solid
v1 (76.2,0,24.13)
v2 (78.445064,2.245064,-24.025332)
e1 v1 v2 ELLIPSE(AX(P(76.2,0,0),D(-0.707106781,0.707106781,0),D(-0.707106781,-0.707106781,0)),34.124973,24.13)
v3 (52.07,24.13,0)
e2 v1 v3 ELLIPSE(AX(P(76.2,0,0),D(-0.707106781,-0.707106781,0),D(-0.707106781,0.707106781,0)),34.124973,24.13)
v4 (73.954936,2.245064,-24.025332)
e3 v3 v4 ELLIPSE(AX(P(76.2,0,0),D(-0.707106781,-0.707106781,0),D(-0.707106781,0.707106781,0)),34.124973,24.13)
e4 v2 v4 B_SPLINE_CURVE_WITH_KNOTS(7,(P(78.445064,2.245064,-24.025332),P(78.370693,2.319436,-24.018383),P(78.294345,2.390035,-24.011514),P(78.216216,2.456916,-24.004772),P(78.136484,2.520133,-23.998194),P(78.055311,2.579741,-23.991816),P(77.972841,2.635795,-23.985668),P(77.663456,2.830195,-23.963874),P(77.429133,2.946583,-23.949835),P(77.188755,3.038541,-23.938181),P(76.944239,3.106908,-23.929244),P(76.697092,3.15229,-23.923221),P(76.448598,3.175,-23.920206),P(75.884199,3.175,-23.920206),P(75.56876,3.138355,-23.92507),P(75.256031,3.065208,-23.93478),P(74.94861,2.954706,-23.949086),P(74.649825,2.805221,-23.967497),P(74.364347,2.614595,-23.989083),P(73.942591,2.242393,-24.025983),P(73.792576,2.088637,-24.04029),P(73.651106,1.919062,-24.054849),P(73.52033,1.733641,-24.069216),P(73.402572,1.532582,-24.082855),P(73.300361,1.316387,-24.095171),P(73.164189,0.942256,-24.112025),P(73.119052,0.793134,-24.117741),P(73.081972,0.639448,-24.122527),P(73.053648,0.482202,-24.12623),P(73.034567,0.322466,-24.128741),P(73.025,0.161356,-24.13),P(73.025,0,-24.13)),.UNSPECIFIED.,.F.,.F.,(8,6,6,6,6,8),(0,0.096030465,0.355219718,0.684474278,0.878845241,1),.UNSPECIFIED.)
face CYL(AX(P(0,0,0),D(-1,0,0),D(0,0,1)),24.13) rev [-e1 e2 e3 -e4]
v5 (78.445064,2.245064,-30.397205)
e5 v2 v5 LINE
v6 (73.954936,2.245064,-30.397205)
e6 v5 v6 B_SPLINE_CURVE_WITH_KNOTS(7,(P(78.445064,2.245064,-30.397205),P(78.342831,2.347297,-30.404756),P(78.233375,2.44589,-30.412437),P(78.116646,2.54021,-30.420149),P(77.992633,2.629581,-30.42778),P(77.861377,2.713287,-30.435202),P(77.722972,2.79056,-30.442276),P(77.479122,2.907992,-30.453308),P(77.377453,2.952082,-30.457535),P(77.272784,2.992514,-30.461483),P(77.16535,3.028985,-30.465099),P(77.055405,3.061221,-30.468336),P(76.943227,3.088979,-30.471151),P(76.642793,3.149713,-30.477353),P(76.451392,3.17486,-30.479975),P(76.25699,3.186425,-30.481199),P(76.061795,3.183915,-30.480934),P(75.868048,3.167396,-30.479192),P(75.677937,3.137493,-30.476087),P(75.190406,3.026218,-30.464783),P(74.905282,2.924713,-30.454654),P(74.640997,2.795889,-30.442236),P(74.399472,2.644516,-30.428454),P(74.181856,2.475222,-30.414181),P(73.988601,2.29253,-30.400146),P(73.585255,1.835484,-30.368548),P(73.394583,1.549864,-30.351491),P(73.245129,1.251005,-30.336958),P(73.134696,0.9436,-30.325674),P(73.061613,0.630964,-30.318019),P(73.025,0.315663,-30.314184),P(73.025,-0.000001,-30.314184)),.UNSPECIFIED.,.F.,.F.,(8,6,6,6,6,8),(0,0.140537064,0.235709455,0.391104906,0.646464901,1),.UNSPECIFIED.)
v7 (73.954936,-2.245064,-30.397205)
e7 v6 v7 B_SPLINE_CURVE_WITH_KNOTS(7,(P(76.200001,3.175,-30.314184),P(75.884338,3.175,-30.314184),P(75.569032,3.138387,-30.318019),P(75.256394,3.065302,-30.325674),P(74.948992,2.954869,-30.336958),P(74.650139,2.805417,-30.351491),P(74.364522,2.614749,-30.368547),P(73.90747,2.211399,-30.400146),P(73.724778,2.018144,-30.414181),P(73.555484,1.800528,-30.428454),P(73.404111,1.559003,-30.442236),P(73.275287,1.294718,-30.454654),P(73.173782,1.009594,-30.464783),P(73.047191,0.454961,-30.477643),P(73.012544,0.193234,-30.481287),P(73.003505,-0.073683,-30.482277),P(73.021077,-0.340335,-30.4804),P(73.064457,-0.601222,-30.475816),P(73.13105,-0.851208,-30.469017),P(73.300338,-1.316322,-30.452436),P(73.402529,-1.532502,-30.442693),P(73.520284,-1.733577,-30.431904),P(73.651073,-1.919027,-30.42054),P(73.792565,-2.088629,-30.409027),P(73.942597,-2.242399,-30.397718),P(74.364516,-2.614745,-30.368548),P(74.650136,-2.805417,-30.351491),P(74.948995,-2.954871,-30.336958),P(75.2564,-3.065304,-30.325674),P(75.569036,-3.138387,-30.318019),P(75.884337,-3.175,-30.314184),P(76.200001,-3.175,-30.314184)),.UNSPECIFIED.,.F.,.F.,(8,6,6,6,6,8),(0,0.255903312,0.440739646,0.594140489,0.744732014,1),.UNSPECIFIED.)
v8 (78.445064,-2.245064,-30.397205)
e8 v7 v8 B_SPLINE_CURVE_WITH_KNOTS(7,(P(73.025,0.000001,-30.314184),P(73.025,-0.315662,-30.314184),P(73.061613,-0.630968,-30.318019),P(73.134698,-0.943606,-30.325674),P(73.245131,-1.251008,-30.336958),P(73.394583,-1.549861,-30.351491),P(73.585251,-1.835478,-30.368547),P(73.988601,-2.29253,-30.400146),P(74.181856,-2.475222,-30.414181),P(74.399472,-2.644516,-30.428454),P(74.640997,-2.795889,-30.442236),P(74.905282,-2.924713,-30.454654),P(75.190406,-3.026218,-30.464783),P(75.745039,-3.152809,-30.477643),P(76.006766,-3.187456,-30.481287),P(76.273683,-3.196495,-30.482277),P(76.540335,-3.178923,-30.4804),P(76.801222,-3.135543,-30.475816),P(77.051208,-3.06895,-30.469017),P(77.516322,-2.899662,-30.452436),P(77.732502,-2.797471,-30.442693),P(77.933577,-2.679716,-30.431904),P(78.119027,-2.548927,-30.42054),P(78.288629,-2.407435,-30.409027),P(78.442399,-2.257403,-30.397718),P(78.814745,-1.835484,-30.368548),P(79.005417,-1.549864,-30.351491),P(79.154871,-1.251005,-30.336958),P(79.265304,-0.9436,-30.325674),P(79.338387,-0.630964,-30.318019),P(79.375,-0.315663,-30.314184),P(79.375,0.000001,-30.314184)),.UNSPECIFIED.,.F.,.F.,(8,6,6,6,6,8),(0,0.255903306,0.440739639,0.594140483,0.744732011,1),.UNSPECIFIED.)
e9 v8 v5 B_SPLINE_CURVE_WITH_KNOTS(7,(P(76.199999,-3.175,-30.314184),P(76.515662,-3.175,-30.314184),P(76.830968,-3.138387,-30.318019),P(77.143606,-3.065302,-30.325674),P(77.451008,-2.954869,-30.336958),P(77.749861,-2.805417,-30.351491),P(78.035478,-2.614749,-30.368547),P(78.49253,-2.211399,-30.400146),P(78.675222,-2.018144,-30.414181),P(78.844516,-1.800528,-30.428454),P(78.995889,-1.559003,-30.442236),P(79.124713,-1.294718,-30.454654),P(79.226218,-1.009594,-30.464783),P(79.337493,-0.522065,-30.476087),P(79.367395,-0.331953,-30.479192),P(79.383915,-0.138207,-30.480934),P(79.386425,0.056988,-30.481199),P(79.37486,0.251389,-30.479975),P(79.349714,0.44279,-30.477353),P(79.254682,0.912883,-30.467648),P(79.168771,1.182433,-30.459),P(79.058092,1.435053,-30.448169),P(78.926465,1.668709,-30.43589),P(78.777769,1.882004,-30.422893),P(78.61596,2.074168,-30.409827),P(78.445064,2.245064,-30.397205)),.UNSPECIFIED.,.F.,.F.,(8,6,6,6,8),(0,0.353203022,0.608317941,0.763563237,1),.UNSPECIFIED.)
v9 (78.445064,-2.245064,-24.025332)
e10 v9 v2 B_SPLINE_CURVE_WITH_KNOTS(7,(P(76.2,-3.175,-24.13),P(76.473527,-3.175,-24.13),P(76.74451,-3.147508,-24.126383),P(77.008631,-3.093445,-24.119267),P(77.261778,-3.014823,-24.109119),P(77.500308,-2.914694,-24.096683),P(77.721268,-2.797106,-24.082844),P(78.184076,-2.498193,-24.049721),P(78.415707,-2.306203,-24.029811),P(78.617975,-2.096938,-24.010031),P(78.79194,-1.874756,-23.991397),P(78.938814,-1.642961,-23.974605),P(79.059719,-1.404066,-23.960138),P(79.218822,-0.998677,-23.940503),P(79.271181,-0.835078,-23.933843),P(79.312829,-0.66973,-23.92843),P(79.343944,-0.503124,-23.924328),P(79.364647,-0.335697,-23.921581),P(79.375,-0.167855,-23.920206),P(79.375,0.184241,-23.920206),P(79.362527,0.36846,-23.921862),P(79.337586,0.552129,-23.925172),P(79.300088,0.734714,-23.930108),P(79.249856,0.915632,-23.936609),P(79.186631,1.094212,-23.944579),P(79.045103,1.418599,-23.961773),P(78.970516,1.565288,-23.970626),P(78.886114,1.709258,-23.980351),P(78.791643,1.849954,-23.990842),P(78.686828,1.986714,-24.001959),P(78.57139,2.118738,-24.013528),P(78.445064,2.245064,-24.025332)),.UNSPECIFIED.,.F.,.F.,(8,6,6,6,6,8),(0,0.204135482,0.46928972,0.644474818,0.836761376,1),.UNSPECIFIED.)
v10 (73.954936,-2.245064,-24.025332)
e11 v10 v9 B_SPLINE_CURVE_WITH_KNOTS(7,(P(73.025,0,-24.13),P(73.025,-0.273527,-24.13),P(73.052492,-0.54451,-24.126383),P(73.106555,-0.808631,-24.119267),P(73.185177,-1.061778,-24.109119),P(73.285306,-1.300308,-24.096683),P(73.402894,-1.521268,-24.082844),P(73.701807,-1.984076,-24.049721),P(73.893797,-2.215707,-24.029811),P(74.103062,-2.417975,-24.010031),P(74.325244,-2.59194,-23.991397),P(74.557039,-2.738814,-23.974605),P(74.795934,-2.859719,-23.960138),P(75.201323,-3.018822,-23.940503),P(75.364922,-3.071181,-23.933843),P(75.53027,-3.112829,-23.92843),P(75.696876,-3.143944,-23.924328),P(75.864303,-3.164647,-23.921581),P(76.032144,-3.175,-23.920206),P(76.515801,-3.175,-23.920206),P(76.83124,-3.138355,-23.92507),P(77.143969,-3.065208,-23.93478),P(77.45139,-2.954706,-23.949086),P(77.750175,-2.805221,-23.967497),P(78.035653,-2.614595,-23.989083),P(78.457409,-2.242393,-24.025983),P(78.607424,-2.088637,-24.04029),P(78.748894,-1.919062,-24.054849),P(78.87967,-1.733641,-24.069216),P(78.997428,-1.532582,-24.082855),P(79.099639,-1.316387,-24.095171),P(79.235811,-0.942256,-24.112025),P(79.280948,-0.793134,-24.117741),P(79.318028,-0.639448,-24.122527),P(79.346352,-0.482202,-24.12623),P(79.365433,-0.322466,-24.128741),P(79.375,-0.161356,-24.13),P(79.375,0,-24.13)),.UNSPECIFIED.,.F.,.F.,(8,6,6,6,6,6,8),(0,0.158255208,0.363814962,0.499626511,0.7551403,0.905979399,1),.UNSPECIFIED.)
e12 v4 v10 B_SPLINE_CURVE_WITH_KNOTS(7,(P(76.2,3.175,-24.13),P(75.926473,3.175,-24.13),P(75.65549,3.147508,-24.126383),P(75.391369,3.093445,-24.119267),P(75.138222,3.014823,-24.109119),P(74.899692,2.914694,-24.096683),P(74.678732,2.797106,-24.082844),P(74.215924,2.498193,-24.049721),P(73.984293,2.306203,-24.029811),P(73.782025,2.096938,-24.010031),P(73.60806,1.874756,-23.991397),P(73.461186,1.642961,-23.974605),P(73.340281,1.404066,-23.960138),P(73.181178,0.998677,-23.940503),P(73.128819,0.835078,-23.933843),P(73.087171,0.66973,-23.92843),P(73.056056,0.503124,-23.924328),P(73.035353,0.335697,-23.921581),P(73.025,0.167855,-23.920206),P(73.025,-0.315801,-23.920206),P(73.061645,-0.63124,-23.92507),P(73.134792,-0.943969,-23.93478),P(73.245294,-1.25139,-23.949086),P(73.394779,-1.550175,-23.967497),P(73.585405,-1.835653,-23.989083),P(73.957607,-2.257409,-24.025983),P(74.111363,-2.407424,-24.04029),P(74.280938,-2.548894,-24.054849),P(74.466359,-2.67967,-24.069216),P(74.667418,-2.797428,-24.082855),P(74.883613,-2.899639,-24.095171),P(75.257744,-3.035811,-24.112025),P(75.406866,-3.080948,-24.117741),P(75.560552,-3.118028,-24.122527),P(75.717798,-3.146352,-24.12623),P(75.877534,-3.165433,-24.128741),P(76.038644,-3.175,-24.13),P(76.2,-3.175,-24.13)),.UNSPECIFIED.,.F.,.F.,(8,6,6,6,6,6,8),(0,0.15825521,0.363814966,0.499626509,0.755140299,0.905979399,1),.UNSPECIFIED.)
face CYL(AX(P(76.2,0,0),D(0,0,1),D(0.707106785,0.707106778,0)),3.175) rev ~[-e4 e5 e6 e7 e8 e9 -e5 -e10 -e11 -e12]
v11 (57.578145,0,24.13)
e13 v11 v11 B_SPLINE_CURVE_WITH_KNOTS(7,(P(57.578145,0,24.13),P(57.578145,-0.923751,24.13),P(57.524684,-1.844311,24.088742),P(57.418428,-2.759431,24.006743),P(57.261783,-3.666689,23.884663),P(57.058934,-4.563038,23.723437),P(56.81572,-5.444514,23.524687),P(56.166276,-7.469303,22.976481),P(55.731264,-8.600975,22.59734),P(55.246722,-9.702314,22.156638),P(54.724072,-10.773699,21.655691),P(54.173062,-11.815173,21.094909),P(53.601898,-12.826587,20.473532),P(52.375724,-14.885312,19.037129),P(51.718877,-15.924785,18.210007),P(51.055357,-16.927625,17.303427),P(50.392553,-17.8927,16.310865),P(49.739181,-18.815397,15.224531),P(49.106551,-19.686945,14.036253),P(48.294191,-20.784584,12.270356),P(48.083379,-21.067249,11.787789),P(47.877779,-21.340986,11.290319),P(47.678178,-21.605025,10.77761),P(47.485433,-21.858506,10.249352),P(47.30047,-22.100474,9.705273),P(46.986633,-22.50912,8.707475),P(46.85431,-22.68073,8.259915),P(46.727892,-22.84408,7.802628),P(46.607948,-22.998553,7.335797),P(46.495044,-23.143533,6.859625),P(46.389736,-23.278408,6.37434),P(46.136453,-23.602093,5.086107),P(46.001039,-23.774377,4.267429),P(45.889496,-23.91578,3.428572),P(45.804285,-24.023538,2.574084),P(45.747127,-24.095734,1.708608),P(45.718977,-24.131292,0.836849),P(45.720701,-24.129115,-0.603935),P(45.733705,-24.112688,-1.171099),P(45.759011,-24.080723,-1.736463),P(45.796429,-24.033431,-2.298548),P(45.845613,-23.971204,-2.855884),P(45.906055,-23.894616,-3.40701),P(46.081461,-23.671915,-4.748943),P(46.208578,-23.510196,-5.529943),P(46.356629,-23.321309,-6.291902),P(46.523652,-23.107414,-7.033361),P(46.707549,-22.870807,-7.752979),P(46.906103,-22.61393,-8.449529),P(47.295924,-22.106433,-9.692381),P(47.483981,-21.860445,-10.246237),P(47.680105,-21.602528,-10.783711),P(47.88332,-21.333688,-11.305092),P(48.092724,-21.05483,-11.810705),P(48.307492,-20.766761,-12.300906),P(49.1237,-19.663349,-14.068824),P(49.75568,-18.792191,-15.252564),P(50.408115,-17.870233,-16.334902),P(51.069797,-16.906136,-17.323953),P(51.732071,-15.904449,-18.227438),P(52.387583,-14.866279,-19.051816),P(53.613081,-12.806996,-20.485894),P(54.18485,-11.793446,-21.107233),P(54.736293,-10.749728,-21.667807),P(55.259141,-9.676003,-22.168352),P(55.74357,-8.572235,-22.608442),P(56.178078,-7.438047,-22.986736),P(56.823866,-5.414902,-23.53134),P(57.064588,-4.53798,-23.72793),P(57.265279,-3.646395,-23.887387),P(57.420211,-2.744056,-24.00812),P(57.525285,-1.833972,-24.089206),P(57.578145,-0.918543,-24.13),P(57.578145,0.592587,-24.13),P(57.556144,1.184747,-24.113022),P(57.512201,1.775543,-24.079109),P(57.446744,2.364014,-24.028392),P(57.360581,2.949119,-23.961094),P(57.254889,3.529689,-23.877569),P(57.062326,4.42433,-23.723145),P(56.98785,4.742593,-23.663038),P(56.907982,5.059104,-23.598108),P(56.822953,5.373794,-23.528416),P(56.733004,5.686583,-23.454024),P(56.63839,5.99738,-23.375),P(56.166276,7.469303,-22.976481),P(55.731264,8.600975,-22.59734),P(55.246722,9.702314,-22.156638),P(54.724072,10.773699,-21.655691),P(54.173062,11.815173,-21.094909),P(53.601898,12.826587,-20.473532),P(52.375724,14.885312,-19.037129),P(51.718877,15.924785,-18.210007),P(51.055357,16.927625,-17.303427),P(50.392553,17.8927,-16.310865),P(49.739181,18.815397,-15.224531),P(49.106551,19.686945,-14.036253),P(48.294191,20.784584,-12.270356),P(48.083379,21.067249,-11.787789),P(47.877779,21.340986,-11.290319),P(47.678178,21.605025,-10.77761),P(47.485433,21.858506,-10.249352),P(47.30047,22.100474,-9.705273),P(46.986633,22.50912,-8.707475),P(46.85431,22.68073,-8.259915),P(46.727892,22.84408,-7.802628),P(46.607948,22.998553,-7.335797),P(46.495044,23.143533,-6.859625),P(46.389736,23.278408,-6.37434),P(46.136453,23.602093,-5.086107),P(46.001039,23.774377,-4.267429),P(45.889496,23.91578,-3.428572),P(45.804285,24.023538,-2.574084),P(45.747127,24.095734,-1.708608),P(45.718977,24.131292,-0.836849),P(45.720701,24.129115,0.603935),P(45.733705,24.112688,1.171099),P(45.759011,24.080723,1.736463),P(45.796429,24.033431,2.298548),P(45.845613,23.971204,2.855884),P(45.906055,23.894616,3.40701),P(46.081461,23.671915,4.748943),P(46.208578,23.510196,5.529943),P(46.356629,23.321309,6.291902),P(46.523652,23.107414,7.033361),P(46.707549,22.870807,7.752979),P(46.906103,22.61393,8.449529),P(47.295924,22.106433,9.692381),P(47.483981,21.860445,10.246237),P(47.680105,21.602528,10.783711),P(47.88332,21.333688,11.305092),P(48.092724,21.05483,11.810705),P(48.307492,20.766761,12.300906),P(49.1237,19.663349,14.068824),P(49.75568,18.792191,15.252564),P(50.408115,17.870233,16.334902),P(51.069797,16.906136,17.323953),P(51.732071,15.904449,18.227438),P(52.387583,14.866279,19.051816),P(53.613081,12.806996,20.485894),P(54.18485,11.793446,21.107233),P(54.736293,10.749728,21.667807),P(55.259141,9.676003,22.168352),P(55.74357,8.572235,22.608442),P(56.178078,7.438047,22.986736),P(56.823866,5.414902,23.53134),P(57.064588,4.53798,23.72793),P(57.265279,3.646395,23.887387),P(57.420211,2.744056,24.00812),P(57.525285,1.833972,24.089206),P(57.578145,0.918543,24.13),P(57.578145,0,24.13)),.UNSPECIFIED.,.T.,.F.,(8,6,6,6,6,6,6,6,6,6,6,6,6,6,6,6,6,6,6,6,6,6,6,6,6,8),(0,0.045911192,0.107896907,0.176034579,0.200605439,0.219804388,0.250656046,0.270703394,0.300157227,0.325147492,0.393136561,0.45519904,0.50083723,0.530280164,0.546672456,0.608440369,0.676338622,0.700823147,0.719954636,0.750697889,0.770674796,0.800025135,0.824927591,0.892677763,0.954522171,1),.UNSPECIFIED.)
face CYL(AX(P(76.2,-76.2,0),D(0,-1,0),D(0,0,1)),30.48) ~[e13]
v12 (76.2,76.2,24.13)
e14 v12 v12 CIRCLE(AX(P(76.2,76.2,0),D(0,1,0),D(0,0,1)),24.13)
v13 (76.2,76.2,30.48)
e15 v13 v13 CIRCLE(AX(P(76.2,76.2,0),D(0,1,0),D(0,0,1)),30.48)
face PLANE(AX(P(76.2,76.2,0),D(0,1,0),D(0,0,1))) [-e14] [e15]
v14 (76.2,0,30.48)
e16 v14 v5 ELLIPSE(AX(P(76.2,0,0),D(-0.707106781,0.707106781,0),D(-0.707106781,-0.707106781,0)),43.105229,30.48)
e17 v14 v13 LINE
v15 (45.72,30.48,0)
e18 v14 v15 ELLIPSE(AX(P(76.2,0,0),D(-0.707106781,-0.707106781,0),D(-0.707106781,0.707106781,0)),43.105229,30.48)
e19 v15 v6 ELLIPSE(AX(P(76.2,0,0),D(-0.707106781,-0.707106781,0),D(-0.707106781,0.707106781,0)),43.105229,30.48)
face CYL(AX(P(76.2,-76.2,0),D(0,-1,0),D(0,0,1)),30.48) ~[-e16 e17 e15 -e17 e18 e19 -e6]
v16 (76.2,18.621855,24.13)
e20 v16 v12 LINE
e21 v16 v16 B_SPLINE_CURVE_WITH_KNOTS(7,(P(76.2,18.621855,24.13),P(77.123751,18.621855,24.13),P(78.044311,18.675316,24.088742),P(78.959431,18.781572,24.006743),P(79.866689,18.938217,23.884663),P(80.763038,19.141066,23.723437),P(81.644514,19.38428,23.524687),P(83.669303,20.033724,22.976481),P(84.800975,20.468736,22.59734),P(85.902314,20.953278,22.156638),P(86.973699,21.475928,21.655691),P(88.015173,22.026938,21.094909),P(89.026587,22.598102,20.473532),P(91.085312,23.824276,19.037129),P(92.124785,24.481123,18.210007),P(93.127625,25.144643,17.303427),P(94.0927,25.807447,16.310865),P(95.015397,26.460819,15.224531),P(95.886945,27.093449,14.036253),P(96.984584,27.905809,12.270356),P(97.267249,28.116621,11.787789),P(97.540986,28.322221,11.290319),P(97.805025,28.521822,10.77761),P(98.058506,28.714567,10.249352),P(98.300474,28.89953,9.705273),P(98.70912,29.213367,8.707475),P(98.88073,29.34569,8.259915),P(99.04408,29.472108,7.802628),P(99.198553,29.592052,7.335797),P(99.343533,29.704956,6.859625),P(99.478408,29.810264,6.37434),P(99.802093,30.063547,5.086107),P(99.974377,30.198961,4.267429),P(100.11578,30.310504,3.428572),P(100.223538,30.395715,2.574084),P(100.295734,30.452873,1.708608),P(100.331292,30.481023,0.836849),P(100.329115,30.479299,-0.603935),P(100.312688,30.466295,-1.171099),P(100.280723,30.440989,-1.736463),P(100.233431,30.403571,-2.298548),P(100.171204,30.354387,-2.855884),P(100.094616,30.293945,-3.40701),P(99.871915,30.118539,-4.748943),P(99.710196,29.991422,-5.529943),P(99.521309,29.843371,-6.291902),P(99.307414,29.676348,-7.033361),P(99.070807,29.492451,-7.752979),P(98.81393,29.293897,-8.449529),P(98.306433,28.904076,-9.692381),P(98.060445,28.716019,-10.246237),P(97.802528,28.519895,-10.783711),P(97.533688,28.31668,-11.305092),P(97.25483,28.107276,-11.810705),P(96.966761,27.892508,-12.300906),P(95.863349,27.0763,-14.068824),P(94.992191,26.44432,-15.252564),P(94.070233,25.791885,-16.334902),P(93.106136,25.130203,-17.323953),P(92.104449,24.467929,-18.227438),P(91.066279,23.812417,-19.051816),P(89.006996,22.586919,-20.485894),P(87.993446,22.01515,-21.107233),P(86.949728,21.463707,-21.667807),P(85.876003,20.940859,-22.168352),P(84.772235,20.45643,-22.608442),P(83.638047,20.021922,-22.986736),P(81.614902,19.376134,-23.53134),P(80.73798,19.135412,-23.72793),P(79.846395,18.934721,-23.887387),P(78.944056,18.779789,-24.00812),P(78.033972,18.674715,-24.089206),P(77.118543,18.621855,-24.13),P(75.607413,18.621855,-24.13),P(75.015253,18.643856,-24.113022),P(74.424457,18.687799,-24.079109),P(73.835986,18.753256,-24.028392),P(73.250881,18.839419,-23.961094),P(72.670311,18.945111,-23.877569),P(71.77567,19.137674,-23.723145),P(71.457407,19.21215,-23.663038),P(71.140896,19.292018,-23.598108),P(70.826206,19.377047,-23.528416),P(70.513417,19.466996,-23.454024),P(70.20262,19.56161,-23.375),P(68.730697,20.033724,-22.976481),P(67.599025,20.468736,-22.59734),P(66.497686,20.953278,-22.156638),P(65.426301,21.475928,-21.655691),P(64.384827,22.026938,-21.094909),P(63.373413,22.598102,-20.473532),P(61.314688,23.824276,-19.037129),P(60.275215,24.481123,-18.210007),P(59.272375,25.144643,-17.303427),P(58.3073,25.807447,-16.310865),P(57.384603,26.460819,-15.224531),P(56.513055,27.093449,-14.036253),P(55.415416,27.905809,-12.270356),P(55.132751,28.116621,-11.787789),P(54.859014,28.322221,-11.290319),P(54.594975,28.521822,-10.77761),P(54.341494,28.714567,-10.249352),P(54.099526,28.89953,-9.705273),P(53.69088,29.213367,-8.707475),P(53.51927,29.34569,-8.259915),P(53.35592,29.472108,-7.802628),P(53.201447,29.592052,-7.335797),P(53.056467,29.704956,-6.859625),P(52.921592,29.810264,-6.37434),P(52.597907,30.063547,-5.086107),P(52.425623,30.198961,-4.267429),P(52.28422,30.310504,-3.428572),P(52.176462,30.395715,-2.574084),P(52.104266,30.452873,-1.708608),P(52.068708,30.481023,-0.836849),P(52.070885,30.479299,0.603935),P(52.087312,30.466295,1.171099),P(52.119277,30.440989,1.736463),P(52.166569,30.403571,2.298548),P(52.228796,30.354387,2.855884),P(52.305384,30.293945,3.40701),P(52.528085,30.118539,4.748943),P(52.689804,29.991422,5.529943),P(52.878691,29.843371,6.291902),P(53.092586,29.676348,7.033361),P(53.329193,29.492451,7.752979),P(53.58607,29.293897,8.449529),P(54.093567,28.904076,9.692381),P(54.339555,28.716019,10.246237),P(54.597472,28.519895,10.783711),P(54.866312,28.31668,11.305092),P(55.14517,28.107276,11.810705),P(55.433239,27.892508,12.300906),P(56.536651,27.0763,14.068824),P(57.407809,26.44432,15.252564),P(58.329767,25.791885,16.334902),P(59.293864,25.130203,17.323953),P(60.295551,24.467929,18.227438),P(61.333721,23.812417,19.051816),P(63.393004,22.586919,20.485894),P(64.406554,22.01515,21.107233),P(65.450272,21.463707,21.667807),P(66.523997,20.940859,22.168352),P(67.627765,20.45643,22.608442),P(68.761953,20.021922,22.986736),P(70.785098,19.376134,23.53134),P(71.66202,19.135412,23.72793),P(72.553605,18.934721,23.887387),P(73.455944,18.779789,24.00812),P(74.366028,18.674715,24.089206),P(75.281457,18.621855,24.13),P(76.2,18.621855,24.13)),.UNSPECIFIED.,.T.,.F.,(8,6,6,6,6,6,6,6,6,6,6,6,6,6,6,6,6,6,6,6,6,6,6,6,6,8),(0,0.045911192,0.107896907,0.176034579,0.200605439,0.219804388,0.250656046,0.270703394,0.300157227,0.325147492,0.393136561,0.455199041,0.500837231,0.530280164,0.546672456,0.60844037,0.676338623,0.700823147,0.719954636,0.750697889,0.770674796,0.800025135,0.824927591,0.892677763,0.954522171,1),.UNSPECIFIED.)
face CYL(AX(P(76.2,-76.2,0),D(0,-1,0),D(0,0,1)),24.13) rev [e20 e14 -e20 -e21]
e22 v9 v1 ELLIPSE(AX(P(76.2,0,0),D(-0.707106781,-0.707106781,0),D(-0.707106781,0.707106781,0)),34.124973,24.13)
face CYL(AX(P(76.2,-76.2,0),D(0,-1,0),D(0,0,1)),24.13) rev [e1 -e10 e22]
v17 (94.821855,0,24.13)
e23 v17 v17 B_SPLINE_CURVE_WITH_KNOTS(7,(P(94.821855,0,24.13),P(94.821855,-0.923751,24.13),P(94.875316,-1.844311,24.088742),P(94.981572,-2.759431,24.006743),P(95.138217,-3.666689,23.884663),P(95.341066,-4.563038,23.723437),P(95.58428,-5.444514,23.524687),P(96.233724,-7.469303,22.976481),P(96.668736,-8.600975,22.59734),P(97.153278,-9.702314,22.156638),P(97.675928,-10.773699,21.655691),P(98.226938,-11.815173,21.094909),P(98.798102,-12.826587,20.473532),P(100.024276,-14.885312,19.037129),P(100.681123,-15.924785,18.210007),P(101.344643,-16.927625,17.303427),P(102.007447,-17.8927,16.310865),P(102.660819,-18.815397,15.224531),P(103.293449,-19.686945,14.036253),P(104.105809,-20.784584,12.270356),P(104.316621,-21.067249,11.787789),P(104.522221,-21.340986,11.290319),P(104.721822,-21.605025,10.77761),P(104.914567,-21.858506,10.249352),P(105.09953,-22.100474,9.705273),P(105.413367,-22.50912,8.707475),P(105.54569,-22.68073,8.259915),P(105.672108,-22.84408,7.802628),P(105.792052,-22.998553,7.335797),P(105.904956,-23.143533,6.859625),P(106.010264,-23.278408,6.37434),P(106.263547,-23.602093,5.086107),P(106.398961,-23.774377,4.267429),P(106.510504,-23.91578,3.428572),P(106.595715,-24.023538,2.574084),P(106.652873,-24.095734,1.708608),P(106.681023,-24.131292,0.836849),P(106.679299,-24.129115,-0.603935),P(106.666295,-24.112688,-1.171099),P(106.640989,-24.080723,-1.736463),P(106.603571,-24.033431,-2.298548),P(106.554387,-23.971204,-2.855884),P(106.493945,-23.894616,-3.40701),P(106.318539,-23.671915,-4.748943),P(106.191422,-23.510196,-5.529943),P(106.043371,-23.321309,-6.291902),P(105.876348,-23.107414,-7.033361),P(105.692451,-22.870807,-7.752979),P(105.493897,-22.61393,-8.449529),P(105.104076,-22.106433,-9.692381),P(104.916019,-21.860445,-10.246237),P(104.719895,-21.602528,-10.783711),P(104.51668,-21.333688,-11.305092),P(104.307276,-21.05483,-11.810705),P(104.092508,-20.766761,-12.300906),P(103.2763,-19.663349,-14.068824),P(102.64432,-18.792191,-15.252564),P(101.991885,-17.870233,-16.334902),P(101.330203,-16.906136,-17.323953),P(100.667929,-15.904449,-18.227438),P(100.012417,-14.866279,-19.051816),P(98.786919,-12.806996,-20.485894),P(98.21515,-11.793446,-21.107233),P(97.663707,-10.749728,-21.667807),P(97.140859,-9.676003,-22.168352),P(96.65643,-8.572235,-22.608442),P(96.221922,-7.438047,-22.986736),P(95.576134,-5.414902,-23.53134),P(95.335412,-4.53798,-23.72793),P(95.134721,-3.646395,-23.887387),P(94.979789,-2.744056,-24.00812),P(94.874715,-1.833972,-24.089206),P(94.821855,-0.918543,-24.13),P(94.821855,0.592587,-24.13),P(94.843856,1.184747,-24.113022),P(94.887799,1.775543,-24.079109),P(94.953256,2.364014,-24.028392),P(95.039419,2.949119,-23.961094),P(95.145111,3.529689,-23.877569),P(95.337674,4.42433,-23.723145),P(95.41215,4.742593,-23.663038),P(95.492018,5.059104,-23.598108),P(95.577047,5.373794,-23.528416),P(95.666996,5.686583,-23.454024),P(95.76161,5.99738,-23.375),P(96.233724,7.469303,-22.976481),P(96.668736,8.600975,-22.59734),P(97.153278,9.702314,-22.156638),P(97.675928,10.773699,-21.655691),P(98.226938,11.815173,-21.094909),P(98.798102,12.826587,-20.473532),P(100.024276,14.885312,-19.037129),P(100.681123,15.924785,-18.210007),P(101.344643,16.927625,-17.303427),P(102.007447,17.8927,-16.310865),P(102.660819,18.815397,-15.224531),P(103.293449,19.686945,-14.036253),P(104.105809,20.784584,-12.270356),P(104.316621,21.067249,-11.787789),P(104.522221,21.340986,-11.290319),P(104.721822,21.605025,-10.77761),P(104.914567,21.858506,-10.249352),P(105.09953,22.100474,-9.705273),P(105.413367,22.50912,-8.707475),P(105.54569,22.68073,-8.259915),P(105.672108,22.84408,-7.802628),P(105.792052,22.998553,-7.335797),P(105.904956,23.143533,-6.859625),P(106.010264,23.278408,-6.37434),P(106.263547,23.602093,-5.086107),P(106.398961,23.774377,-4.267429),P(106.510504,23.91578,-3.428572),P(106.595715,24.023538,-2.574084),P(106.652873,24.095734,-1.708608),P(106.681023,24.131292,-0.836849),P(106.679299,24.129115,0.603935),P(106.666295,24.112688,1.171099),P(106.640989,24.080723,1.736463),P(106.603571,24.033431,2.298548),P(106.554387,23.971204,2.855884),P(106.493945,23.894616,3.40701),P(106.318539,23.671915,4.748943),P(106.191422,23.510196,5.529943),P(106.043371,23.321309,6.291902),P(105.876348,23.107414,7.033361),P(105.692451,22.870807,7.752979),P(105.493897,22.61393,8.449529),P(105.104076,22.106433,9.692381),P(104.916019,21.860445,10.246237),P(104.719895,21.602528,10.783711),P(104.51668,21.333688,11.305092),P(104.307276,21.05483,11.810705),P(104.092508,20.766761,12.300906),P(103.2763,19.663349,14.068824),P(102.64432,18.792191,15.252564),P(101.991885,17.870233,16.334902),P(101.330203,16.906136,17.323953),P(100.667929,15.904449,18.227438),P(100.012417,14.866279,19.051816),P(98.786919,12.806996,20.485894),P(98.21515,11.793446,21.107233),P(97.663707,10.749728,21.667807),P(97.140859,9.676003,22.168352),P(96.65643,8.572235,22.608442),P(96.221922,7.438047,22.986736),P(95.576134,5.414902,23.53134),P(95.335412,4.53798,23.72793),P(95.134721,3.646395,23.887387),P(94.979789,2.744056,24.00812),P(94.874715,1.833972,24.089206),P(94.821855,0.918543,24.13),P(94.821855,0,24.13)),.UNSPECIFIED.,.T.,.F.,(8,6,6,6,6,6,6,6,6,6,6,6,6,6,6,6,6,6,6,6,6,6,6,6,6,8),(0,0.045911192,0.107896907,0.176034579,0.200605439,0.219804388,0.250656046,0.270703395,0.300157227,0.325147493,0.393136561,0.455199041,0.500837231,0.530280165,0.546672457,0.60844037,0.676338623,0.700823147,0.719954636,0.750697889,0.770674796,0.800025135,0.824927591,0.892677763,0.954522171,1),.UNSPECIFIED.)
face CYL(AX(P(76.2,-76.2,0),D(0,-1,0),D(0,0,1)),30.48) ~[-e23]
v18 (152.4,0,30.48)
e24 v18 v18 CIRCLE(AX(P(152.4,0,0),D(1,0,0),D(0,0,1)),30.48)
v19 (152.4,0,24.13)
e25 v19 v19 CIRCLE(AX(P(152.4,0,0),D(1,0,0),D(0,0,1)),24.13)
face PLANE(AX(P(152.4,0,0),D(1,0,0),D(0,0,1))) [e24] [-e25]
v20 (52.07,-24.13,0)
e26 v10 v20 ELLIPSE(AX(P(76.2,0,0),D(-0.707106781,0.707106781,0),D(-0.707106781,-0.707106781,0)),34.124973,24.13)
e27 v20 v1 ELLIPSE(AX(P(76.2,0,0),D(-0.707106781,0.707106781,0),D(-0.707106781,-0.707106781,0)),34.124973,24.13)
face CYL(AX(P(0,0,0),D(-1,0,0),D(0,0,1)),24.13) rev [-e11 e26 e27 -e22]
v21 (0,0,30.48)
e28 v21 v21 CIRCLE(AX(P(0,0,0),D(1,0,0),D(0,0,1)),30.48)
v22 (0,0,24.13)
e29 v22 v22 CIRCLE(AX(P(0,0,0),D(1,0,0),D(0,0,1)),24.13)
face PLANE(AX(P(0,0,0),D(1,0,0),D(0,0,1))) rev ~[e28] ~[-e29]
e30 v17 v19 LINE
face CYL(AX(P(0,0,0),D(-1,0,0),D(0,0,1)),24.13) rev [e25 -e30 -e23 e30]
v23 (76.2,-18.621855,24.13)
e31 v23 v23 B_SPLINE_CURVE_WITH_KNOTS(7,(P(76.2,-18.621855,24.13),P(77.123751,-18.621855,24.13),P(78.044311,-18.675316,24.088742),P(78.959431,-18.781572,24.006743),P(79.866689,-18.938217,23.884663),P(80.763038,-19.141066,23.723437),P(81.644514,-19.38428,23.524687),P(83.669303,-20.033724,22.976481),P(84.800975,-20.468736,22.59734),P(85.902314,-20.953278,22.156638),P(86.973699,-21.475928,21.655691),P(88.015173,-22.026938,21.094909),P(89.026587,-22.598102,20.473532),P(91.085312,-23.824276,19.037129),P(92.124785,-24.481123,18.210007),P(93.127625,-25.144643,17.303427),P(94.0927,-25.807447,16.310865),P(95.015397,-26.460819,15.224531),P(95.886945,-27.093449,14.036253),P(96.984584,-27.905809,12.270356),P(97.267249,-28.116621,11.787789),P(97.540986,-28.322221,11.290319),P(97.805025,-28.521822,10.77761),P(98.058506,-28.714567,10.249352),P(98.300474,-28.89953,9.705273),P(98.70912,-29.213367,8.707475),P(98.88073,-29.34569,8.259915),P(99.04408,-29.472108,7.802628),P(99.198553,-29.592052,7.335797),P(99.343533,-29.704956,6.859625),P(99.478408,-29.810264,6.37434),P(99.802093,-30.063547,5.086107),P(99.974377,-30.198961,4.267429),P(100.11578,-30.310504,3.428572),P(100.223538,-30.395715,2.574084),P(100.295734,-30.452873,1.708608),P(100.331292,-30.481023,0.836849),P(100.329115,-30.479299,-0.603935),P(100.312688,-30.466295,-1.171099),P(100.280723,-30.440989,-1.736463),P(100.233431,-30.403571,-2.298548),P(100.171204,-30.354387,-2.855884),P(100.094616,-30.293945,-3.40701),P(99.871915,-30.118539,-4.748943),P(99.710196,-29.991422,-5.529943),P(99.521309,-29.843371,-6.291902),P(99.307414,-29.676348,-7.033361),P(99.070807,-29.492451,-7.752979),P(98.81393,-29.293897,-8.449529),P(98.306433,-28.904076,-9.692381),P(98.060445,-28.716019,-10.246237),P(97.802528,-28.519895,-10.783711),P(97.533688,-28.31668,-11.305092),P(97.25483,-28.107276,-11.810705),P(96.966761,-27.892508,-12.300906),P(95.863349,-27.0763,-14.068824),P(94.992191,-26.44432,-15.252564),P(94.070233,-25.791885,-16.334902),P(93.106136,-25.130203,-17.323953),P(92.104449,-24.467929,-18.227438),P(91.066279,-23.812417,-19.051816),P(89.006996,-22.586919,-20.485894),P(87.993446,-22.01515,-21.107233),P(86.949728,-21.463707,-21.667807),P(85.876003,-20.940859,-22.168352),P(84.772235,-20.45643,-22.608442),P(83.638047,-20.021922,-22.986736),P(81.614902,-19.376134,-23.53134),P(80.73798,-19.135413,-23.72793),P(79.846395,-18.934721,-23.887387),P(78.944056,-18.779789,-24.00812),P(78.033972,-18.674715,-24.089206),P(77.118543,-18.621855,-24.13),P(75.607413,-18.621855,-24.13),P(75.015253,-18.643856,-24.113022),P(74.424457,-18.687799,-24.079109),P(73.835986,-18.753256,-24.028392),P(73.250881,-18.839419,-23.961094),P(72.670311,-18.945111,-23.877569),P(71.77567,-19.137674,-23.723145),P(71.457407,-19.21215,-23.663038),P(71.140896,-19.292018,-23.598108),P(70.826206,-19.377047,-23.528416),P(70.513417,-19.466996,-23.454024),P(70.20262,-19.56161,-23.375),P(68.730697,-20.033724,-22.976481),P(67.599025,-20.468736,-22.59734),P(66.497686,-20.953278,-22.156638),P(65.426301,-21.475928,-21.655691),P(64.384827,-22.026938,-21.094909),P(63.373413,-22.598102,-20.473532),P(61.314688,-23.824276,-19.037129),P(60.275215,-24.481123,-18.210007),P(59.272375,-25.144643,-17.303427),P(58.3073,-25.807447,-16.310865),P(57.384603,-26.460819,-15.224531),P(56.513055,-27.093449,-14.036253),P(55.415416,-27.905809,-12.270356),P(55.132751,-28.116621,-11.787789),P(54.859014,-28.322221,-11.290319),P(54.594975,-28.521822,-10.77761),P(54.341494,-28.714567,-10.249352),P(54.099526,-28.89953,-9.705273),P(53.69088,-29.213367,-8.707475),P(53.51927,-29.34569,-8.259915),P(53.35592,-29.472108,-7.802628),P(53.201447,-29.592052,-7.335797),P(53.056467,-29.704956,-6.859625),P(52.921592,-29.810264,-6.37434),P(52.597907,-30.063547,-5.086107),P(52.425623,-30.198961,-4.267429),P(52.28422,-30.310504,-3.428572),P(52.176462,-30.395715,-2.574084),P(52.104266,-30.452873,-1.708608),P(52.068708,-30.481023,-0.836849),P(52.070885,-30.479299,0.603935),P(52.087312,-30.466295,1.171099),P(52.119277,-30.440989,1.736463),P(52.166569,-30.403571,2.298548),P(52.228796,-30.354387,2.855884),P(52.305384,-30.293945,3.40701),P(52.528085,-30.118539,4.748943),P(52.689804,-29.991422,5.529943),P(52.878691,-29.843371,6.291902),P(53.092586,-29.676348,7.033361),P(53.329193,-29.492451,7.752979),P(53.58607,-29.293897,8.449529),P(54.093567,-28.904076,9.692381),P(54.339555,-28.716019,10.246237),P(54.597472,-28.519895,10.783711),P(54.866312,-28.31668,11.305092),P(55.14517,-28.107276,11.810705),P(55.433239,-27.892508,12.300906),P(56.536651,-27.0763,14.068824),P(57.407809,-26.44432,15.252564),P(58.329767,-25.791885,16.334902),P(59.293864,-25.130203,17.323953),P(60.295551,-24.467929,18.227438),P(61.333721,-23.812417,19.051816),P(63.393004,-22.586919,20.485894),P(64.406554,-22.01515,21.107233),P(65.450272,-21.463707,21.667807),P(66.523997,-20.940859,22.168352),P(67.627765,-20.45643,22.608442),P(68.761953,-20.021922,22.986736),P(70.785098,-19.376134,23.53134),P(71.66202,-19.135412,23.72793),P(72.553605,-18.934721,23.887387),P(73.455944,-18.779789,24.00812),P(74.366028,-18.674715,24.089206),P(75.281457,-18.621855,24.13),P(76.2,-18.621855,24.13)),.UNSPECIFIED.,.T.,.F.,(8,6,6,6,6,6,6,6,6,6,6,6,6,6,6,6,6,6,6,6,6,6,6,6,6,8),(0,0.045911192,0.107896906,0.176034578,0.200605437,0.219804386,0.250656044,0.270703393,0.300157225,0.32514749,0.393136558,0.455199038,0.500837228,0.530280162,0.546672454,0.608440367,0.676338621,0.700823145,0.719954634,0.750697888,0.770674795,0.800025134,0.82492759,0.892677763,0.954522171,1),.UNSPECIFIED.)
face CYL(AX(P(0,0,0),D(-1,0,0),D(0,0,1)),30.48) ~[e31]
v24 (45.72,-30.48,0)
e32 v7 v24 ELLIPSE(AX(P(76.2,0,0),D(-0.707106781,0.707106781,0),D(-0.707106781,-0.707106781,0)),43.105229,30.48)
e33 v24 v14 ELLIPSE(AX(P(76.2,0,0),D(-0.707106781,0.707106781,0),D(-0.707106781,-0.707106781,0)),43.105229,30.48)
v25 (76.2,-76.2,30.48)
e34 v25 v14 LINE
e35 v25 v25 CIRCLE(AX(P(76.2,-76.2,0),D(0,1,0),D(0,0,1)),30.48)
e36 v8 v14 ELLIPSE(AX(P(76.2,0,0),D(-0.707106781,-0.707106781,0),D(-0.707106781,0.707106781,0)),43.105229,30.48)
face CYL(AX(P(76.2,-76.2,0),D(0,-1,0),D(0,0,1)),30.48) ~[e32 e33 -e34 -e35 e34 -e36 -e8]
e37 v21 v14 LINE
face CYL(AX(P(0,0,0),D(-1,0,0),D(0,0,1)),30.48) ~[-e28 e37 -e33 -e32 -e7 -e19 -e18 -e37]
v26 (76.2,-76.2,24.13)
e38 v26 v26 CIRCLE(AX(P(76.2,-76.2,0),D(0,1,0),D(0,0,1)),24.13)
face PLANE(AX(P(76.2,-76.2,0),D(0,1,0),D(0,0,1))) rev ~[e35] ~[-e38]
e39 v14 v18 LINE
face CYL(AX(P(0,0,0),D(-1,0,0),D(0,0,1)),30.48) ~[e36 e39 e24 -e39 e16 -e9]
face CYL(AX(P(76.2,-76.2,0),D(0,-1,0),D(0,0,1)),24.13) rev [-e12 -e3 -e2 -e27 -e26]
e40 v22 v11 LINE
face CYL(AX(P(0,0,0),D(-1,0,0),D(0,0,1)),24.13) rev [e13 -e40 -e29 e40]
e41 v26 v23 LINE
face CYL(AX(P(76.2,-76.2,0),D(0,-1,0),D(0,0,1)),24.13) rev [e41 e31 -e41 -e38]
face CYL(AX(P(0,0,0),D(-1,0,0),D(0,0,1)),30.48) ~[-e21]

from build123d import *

# Parameters (mm, degrees)
SKETCH1_R                = 30.48
SKETCH1_R_2              = 24.13
BOSS_EXTRUDE1_DEPTH      = 152.4
BOSS_EXTRUDE2_DEPTH      = 76.2
BOSS_EXTRUDE2_DEPTH_BACK = 76.2
SKETCH2_R                = 30.48
SKETCH2_R_2              = 24.13
SKETCH4_R                = 3.175
CUT_EXTRUDE1_DEPTH       = 174.093126512


with BuildPart() as part:
    # Sketch1 → Boss-Extrude1 (new body)
    with BuildSketch(Plane(origin=(0, 0, 0), x_dir=(0, 0, -1), z_dir=(1, 0, 0))):
        Circle(SKETCH1_R)
        Circle(SKETCH1_R_2, mode=Mode.SUBTRACT)
    extrude(amount=BOSS_EXTRUDE1_DEPTH)

    # Sketch2 → Boss-Extrude2 (add, two sides: drawn at the far end of the back side and taken through both)
    with BuildSketch(Plane(origin=(0, 0, 0), x_dir=(1, 0, 0), z_dir=(0, 1, 0)).offset(-BOSS_EXTRUDE2_DEPTH_BACK)):
        with Locations((76.2, 0)):
            Circle(SKETCH2_R)
        with Locations((76.2, 0)):
            Circle(SKETCH2_R_2, mode=Mode.SUBTRACT)
    extrude(amount=BOSS_EXTRUDE2_DEPTH + BOSS_EXTRUDE2_DEPTH_BACK)

    # Sketch4 → Cut-Extrude1 (cut, through all)
    with BuildSketch(Plane.XY):
        with Locations((76.2, 0)):
            Circle(SKETCH4_R)
    extrude(amount=-CUT_EXTRUDE1_DEPTH, mode=Mode.SUBTRACT)


solid = part.part
